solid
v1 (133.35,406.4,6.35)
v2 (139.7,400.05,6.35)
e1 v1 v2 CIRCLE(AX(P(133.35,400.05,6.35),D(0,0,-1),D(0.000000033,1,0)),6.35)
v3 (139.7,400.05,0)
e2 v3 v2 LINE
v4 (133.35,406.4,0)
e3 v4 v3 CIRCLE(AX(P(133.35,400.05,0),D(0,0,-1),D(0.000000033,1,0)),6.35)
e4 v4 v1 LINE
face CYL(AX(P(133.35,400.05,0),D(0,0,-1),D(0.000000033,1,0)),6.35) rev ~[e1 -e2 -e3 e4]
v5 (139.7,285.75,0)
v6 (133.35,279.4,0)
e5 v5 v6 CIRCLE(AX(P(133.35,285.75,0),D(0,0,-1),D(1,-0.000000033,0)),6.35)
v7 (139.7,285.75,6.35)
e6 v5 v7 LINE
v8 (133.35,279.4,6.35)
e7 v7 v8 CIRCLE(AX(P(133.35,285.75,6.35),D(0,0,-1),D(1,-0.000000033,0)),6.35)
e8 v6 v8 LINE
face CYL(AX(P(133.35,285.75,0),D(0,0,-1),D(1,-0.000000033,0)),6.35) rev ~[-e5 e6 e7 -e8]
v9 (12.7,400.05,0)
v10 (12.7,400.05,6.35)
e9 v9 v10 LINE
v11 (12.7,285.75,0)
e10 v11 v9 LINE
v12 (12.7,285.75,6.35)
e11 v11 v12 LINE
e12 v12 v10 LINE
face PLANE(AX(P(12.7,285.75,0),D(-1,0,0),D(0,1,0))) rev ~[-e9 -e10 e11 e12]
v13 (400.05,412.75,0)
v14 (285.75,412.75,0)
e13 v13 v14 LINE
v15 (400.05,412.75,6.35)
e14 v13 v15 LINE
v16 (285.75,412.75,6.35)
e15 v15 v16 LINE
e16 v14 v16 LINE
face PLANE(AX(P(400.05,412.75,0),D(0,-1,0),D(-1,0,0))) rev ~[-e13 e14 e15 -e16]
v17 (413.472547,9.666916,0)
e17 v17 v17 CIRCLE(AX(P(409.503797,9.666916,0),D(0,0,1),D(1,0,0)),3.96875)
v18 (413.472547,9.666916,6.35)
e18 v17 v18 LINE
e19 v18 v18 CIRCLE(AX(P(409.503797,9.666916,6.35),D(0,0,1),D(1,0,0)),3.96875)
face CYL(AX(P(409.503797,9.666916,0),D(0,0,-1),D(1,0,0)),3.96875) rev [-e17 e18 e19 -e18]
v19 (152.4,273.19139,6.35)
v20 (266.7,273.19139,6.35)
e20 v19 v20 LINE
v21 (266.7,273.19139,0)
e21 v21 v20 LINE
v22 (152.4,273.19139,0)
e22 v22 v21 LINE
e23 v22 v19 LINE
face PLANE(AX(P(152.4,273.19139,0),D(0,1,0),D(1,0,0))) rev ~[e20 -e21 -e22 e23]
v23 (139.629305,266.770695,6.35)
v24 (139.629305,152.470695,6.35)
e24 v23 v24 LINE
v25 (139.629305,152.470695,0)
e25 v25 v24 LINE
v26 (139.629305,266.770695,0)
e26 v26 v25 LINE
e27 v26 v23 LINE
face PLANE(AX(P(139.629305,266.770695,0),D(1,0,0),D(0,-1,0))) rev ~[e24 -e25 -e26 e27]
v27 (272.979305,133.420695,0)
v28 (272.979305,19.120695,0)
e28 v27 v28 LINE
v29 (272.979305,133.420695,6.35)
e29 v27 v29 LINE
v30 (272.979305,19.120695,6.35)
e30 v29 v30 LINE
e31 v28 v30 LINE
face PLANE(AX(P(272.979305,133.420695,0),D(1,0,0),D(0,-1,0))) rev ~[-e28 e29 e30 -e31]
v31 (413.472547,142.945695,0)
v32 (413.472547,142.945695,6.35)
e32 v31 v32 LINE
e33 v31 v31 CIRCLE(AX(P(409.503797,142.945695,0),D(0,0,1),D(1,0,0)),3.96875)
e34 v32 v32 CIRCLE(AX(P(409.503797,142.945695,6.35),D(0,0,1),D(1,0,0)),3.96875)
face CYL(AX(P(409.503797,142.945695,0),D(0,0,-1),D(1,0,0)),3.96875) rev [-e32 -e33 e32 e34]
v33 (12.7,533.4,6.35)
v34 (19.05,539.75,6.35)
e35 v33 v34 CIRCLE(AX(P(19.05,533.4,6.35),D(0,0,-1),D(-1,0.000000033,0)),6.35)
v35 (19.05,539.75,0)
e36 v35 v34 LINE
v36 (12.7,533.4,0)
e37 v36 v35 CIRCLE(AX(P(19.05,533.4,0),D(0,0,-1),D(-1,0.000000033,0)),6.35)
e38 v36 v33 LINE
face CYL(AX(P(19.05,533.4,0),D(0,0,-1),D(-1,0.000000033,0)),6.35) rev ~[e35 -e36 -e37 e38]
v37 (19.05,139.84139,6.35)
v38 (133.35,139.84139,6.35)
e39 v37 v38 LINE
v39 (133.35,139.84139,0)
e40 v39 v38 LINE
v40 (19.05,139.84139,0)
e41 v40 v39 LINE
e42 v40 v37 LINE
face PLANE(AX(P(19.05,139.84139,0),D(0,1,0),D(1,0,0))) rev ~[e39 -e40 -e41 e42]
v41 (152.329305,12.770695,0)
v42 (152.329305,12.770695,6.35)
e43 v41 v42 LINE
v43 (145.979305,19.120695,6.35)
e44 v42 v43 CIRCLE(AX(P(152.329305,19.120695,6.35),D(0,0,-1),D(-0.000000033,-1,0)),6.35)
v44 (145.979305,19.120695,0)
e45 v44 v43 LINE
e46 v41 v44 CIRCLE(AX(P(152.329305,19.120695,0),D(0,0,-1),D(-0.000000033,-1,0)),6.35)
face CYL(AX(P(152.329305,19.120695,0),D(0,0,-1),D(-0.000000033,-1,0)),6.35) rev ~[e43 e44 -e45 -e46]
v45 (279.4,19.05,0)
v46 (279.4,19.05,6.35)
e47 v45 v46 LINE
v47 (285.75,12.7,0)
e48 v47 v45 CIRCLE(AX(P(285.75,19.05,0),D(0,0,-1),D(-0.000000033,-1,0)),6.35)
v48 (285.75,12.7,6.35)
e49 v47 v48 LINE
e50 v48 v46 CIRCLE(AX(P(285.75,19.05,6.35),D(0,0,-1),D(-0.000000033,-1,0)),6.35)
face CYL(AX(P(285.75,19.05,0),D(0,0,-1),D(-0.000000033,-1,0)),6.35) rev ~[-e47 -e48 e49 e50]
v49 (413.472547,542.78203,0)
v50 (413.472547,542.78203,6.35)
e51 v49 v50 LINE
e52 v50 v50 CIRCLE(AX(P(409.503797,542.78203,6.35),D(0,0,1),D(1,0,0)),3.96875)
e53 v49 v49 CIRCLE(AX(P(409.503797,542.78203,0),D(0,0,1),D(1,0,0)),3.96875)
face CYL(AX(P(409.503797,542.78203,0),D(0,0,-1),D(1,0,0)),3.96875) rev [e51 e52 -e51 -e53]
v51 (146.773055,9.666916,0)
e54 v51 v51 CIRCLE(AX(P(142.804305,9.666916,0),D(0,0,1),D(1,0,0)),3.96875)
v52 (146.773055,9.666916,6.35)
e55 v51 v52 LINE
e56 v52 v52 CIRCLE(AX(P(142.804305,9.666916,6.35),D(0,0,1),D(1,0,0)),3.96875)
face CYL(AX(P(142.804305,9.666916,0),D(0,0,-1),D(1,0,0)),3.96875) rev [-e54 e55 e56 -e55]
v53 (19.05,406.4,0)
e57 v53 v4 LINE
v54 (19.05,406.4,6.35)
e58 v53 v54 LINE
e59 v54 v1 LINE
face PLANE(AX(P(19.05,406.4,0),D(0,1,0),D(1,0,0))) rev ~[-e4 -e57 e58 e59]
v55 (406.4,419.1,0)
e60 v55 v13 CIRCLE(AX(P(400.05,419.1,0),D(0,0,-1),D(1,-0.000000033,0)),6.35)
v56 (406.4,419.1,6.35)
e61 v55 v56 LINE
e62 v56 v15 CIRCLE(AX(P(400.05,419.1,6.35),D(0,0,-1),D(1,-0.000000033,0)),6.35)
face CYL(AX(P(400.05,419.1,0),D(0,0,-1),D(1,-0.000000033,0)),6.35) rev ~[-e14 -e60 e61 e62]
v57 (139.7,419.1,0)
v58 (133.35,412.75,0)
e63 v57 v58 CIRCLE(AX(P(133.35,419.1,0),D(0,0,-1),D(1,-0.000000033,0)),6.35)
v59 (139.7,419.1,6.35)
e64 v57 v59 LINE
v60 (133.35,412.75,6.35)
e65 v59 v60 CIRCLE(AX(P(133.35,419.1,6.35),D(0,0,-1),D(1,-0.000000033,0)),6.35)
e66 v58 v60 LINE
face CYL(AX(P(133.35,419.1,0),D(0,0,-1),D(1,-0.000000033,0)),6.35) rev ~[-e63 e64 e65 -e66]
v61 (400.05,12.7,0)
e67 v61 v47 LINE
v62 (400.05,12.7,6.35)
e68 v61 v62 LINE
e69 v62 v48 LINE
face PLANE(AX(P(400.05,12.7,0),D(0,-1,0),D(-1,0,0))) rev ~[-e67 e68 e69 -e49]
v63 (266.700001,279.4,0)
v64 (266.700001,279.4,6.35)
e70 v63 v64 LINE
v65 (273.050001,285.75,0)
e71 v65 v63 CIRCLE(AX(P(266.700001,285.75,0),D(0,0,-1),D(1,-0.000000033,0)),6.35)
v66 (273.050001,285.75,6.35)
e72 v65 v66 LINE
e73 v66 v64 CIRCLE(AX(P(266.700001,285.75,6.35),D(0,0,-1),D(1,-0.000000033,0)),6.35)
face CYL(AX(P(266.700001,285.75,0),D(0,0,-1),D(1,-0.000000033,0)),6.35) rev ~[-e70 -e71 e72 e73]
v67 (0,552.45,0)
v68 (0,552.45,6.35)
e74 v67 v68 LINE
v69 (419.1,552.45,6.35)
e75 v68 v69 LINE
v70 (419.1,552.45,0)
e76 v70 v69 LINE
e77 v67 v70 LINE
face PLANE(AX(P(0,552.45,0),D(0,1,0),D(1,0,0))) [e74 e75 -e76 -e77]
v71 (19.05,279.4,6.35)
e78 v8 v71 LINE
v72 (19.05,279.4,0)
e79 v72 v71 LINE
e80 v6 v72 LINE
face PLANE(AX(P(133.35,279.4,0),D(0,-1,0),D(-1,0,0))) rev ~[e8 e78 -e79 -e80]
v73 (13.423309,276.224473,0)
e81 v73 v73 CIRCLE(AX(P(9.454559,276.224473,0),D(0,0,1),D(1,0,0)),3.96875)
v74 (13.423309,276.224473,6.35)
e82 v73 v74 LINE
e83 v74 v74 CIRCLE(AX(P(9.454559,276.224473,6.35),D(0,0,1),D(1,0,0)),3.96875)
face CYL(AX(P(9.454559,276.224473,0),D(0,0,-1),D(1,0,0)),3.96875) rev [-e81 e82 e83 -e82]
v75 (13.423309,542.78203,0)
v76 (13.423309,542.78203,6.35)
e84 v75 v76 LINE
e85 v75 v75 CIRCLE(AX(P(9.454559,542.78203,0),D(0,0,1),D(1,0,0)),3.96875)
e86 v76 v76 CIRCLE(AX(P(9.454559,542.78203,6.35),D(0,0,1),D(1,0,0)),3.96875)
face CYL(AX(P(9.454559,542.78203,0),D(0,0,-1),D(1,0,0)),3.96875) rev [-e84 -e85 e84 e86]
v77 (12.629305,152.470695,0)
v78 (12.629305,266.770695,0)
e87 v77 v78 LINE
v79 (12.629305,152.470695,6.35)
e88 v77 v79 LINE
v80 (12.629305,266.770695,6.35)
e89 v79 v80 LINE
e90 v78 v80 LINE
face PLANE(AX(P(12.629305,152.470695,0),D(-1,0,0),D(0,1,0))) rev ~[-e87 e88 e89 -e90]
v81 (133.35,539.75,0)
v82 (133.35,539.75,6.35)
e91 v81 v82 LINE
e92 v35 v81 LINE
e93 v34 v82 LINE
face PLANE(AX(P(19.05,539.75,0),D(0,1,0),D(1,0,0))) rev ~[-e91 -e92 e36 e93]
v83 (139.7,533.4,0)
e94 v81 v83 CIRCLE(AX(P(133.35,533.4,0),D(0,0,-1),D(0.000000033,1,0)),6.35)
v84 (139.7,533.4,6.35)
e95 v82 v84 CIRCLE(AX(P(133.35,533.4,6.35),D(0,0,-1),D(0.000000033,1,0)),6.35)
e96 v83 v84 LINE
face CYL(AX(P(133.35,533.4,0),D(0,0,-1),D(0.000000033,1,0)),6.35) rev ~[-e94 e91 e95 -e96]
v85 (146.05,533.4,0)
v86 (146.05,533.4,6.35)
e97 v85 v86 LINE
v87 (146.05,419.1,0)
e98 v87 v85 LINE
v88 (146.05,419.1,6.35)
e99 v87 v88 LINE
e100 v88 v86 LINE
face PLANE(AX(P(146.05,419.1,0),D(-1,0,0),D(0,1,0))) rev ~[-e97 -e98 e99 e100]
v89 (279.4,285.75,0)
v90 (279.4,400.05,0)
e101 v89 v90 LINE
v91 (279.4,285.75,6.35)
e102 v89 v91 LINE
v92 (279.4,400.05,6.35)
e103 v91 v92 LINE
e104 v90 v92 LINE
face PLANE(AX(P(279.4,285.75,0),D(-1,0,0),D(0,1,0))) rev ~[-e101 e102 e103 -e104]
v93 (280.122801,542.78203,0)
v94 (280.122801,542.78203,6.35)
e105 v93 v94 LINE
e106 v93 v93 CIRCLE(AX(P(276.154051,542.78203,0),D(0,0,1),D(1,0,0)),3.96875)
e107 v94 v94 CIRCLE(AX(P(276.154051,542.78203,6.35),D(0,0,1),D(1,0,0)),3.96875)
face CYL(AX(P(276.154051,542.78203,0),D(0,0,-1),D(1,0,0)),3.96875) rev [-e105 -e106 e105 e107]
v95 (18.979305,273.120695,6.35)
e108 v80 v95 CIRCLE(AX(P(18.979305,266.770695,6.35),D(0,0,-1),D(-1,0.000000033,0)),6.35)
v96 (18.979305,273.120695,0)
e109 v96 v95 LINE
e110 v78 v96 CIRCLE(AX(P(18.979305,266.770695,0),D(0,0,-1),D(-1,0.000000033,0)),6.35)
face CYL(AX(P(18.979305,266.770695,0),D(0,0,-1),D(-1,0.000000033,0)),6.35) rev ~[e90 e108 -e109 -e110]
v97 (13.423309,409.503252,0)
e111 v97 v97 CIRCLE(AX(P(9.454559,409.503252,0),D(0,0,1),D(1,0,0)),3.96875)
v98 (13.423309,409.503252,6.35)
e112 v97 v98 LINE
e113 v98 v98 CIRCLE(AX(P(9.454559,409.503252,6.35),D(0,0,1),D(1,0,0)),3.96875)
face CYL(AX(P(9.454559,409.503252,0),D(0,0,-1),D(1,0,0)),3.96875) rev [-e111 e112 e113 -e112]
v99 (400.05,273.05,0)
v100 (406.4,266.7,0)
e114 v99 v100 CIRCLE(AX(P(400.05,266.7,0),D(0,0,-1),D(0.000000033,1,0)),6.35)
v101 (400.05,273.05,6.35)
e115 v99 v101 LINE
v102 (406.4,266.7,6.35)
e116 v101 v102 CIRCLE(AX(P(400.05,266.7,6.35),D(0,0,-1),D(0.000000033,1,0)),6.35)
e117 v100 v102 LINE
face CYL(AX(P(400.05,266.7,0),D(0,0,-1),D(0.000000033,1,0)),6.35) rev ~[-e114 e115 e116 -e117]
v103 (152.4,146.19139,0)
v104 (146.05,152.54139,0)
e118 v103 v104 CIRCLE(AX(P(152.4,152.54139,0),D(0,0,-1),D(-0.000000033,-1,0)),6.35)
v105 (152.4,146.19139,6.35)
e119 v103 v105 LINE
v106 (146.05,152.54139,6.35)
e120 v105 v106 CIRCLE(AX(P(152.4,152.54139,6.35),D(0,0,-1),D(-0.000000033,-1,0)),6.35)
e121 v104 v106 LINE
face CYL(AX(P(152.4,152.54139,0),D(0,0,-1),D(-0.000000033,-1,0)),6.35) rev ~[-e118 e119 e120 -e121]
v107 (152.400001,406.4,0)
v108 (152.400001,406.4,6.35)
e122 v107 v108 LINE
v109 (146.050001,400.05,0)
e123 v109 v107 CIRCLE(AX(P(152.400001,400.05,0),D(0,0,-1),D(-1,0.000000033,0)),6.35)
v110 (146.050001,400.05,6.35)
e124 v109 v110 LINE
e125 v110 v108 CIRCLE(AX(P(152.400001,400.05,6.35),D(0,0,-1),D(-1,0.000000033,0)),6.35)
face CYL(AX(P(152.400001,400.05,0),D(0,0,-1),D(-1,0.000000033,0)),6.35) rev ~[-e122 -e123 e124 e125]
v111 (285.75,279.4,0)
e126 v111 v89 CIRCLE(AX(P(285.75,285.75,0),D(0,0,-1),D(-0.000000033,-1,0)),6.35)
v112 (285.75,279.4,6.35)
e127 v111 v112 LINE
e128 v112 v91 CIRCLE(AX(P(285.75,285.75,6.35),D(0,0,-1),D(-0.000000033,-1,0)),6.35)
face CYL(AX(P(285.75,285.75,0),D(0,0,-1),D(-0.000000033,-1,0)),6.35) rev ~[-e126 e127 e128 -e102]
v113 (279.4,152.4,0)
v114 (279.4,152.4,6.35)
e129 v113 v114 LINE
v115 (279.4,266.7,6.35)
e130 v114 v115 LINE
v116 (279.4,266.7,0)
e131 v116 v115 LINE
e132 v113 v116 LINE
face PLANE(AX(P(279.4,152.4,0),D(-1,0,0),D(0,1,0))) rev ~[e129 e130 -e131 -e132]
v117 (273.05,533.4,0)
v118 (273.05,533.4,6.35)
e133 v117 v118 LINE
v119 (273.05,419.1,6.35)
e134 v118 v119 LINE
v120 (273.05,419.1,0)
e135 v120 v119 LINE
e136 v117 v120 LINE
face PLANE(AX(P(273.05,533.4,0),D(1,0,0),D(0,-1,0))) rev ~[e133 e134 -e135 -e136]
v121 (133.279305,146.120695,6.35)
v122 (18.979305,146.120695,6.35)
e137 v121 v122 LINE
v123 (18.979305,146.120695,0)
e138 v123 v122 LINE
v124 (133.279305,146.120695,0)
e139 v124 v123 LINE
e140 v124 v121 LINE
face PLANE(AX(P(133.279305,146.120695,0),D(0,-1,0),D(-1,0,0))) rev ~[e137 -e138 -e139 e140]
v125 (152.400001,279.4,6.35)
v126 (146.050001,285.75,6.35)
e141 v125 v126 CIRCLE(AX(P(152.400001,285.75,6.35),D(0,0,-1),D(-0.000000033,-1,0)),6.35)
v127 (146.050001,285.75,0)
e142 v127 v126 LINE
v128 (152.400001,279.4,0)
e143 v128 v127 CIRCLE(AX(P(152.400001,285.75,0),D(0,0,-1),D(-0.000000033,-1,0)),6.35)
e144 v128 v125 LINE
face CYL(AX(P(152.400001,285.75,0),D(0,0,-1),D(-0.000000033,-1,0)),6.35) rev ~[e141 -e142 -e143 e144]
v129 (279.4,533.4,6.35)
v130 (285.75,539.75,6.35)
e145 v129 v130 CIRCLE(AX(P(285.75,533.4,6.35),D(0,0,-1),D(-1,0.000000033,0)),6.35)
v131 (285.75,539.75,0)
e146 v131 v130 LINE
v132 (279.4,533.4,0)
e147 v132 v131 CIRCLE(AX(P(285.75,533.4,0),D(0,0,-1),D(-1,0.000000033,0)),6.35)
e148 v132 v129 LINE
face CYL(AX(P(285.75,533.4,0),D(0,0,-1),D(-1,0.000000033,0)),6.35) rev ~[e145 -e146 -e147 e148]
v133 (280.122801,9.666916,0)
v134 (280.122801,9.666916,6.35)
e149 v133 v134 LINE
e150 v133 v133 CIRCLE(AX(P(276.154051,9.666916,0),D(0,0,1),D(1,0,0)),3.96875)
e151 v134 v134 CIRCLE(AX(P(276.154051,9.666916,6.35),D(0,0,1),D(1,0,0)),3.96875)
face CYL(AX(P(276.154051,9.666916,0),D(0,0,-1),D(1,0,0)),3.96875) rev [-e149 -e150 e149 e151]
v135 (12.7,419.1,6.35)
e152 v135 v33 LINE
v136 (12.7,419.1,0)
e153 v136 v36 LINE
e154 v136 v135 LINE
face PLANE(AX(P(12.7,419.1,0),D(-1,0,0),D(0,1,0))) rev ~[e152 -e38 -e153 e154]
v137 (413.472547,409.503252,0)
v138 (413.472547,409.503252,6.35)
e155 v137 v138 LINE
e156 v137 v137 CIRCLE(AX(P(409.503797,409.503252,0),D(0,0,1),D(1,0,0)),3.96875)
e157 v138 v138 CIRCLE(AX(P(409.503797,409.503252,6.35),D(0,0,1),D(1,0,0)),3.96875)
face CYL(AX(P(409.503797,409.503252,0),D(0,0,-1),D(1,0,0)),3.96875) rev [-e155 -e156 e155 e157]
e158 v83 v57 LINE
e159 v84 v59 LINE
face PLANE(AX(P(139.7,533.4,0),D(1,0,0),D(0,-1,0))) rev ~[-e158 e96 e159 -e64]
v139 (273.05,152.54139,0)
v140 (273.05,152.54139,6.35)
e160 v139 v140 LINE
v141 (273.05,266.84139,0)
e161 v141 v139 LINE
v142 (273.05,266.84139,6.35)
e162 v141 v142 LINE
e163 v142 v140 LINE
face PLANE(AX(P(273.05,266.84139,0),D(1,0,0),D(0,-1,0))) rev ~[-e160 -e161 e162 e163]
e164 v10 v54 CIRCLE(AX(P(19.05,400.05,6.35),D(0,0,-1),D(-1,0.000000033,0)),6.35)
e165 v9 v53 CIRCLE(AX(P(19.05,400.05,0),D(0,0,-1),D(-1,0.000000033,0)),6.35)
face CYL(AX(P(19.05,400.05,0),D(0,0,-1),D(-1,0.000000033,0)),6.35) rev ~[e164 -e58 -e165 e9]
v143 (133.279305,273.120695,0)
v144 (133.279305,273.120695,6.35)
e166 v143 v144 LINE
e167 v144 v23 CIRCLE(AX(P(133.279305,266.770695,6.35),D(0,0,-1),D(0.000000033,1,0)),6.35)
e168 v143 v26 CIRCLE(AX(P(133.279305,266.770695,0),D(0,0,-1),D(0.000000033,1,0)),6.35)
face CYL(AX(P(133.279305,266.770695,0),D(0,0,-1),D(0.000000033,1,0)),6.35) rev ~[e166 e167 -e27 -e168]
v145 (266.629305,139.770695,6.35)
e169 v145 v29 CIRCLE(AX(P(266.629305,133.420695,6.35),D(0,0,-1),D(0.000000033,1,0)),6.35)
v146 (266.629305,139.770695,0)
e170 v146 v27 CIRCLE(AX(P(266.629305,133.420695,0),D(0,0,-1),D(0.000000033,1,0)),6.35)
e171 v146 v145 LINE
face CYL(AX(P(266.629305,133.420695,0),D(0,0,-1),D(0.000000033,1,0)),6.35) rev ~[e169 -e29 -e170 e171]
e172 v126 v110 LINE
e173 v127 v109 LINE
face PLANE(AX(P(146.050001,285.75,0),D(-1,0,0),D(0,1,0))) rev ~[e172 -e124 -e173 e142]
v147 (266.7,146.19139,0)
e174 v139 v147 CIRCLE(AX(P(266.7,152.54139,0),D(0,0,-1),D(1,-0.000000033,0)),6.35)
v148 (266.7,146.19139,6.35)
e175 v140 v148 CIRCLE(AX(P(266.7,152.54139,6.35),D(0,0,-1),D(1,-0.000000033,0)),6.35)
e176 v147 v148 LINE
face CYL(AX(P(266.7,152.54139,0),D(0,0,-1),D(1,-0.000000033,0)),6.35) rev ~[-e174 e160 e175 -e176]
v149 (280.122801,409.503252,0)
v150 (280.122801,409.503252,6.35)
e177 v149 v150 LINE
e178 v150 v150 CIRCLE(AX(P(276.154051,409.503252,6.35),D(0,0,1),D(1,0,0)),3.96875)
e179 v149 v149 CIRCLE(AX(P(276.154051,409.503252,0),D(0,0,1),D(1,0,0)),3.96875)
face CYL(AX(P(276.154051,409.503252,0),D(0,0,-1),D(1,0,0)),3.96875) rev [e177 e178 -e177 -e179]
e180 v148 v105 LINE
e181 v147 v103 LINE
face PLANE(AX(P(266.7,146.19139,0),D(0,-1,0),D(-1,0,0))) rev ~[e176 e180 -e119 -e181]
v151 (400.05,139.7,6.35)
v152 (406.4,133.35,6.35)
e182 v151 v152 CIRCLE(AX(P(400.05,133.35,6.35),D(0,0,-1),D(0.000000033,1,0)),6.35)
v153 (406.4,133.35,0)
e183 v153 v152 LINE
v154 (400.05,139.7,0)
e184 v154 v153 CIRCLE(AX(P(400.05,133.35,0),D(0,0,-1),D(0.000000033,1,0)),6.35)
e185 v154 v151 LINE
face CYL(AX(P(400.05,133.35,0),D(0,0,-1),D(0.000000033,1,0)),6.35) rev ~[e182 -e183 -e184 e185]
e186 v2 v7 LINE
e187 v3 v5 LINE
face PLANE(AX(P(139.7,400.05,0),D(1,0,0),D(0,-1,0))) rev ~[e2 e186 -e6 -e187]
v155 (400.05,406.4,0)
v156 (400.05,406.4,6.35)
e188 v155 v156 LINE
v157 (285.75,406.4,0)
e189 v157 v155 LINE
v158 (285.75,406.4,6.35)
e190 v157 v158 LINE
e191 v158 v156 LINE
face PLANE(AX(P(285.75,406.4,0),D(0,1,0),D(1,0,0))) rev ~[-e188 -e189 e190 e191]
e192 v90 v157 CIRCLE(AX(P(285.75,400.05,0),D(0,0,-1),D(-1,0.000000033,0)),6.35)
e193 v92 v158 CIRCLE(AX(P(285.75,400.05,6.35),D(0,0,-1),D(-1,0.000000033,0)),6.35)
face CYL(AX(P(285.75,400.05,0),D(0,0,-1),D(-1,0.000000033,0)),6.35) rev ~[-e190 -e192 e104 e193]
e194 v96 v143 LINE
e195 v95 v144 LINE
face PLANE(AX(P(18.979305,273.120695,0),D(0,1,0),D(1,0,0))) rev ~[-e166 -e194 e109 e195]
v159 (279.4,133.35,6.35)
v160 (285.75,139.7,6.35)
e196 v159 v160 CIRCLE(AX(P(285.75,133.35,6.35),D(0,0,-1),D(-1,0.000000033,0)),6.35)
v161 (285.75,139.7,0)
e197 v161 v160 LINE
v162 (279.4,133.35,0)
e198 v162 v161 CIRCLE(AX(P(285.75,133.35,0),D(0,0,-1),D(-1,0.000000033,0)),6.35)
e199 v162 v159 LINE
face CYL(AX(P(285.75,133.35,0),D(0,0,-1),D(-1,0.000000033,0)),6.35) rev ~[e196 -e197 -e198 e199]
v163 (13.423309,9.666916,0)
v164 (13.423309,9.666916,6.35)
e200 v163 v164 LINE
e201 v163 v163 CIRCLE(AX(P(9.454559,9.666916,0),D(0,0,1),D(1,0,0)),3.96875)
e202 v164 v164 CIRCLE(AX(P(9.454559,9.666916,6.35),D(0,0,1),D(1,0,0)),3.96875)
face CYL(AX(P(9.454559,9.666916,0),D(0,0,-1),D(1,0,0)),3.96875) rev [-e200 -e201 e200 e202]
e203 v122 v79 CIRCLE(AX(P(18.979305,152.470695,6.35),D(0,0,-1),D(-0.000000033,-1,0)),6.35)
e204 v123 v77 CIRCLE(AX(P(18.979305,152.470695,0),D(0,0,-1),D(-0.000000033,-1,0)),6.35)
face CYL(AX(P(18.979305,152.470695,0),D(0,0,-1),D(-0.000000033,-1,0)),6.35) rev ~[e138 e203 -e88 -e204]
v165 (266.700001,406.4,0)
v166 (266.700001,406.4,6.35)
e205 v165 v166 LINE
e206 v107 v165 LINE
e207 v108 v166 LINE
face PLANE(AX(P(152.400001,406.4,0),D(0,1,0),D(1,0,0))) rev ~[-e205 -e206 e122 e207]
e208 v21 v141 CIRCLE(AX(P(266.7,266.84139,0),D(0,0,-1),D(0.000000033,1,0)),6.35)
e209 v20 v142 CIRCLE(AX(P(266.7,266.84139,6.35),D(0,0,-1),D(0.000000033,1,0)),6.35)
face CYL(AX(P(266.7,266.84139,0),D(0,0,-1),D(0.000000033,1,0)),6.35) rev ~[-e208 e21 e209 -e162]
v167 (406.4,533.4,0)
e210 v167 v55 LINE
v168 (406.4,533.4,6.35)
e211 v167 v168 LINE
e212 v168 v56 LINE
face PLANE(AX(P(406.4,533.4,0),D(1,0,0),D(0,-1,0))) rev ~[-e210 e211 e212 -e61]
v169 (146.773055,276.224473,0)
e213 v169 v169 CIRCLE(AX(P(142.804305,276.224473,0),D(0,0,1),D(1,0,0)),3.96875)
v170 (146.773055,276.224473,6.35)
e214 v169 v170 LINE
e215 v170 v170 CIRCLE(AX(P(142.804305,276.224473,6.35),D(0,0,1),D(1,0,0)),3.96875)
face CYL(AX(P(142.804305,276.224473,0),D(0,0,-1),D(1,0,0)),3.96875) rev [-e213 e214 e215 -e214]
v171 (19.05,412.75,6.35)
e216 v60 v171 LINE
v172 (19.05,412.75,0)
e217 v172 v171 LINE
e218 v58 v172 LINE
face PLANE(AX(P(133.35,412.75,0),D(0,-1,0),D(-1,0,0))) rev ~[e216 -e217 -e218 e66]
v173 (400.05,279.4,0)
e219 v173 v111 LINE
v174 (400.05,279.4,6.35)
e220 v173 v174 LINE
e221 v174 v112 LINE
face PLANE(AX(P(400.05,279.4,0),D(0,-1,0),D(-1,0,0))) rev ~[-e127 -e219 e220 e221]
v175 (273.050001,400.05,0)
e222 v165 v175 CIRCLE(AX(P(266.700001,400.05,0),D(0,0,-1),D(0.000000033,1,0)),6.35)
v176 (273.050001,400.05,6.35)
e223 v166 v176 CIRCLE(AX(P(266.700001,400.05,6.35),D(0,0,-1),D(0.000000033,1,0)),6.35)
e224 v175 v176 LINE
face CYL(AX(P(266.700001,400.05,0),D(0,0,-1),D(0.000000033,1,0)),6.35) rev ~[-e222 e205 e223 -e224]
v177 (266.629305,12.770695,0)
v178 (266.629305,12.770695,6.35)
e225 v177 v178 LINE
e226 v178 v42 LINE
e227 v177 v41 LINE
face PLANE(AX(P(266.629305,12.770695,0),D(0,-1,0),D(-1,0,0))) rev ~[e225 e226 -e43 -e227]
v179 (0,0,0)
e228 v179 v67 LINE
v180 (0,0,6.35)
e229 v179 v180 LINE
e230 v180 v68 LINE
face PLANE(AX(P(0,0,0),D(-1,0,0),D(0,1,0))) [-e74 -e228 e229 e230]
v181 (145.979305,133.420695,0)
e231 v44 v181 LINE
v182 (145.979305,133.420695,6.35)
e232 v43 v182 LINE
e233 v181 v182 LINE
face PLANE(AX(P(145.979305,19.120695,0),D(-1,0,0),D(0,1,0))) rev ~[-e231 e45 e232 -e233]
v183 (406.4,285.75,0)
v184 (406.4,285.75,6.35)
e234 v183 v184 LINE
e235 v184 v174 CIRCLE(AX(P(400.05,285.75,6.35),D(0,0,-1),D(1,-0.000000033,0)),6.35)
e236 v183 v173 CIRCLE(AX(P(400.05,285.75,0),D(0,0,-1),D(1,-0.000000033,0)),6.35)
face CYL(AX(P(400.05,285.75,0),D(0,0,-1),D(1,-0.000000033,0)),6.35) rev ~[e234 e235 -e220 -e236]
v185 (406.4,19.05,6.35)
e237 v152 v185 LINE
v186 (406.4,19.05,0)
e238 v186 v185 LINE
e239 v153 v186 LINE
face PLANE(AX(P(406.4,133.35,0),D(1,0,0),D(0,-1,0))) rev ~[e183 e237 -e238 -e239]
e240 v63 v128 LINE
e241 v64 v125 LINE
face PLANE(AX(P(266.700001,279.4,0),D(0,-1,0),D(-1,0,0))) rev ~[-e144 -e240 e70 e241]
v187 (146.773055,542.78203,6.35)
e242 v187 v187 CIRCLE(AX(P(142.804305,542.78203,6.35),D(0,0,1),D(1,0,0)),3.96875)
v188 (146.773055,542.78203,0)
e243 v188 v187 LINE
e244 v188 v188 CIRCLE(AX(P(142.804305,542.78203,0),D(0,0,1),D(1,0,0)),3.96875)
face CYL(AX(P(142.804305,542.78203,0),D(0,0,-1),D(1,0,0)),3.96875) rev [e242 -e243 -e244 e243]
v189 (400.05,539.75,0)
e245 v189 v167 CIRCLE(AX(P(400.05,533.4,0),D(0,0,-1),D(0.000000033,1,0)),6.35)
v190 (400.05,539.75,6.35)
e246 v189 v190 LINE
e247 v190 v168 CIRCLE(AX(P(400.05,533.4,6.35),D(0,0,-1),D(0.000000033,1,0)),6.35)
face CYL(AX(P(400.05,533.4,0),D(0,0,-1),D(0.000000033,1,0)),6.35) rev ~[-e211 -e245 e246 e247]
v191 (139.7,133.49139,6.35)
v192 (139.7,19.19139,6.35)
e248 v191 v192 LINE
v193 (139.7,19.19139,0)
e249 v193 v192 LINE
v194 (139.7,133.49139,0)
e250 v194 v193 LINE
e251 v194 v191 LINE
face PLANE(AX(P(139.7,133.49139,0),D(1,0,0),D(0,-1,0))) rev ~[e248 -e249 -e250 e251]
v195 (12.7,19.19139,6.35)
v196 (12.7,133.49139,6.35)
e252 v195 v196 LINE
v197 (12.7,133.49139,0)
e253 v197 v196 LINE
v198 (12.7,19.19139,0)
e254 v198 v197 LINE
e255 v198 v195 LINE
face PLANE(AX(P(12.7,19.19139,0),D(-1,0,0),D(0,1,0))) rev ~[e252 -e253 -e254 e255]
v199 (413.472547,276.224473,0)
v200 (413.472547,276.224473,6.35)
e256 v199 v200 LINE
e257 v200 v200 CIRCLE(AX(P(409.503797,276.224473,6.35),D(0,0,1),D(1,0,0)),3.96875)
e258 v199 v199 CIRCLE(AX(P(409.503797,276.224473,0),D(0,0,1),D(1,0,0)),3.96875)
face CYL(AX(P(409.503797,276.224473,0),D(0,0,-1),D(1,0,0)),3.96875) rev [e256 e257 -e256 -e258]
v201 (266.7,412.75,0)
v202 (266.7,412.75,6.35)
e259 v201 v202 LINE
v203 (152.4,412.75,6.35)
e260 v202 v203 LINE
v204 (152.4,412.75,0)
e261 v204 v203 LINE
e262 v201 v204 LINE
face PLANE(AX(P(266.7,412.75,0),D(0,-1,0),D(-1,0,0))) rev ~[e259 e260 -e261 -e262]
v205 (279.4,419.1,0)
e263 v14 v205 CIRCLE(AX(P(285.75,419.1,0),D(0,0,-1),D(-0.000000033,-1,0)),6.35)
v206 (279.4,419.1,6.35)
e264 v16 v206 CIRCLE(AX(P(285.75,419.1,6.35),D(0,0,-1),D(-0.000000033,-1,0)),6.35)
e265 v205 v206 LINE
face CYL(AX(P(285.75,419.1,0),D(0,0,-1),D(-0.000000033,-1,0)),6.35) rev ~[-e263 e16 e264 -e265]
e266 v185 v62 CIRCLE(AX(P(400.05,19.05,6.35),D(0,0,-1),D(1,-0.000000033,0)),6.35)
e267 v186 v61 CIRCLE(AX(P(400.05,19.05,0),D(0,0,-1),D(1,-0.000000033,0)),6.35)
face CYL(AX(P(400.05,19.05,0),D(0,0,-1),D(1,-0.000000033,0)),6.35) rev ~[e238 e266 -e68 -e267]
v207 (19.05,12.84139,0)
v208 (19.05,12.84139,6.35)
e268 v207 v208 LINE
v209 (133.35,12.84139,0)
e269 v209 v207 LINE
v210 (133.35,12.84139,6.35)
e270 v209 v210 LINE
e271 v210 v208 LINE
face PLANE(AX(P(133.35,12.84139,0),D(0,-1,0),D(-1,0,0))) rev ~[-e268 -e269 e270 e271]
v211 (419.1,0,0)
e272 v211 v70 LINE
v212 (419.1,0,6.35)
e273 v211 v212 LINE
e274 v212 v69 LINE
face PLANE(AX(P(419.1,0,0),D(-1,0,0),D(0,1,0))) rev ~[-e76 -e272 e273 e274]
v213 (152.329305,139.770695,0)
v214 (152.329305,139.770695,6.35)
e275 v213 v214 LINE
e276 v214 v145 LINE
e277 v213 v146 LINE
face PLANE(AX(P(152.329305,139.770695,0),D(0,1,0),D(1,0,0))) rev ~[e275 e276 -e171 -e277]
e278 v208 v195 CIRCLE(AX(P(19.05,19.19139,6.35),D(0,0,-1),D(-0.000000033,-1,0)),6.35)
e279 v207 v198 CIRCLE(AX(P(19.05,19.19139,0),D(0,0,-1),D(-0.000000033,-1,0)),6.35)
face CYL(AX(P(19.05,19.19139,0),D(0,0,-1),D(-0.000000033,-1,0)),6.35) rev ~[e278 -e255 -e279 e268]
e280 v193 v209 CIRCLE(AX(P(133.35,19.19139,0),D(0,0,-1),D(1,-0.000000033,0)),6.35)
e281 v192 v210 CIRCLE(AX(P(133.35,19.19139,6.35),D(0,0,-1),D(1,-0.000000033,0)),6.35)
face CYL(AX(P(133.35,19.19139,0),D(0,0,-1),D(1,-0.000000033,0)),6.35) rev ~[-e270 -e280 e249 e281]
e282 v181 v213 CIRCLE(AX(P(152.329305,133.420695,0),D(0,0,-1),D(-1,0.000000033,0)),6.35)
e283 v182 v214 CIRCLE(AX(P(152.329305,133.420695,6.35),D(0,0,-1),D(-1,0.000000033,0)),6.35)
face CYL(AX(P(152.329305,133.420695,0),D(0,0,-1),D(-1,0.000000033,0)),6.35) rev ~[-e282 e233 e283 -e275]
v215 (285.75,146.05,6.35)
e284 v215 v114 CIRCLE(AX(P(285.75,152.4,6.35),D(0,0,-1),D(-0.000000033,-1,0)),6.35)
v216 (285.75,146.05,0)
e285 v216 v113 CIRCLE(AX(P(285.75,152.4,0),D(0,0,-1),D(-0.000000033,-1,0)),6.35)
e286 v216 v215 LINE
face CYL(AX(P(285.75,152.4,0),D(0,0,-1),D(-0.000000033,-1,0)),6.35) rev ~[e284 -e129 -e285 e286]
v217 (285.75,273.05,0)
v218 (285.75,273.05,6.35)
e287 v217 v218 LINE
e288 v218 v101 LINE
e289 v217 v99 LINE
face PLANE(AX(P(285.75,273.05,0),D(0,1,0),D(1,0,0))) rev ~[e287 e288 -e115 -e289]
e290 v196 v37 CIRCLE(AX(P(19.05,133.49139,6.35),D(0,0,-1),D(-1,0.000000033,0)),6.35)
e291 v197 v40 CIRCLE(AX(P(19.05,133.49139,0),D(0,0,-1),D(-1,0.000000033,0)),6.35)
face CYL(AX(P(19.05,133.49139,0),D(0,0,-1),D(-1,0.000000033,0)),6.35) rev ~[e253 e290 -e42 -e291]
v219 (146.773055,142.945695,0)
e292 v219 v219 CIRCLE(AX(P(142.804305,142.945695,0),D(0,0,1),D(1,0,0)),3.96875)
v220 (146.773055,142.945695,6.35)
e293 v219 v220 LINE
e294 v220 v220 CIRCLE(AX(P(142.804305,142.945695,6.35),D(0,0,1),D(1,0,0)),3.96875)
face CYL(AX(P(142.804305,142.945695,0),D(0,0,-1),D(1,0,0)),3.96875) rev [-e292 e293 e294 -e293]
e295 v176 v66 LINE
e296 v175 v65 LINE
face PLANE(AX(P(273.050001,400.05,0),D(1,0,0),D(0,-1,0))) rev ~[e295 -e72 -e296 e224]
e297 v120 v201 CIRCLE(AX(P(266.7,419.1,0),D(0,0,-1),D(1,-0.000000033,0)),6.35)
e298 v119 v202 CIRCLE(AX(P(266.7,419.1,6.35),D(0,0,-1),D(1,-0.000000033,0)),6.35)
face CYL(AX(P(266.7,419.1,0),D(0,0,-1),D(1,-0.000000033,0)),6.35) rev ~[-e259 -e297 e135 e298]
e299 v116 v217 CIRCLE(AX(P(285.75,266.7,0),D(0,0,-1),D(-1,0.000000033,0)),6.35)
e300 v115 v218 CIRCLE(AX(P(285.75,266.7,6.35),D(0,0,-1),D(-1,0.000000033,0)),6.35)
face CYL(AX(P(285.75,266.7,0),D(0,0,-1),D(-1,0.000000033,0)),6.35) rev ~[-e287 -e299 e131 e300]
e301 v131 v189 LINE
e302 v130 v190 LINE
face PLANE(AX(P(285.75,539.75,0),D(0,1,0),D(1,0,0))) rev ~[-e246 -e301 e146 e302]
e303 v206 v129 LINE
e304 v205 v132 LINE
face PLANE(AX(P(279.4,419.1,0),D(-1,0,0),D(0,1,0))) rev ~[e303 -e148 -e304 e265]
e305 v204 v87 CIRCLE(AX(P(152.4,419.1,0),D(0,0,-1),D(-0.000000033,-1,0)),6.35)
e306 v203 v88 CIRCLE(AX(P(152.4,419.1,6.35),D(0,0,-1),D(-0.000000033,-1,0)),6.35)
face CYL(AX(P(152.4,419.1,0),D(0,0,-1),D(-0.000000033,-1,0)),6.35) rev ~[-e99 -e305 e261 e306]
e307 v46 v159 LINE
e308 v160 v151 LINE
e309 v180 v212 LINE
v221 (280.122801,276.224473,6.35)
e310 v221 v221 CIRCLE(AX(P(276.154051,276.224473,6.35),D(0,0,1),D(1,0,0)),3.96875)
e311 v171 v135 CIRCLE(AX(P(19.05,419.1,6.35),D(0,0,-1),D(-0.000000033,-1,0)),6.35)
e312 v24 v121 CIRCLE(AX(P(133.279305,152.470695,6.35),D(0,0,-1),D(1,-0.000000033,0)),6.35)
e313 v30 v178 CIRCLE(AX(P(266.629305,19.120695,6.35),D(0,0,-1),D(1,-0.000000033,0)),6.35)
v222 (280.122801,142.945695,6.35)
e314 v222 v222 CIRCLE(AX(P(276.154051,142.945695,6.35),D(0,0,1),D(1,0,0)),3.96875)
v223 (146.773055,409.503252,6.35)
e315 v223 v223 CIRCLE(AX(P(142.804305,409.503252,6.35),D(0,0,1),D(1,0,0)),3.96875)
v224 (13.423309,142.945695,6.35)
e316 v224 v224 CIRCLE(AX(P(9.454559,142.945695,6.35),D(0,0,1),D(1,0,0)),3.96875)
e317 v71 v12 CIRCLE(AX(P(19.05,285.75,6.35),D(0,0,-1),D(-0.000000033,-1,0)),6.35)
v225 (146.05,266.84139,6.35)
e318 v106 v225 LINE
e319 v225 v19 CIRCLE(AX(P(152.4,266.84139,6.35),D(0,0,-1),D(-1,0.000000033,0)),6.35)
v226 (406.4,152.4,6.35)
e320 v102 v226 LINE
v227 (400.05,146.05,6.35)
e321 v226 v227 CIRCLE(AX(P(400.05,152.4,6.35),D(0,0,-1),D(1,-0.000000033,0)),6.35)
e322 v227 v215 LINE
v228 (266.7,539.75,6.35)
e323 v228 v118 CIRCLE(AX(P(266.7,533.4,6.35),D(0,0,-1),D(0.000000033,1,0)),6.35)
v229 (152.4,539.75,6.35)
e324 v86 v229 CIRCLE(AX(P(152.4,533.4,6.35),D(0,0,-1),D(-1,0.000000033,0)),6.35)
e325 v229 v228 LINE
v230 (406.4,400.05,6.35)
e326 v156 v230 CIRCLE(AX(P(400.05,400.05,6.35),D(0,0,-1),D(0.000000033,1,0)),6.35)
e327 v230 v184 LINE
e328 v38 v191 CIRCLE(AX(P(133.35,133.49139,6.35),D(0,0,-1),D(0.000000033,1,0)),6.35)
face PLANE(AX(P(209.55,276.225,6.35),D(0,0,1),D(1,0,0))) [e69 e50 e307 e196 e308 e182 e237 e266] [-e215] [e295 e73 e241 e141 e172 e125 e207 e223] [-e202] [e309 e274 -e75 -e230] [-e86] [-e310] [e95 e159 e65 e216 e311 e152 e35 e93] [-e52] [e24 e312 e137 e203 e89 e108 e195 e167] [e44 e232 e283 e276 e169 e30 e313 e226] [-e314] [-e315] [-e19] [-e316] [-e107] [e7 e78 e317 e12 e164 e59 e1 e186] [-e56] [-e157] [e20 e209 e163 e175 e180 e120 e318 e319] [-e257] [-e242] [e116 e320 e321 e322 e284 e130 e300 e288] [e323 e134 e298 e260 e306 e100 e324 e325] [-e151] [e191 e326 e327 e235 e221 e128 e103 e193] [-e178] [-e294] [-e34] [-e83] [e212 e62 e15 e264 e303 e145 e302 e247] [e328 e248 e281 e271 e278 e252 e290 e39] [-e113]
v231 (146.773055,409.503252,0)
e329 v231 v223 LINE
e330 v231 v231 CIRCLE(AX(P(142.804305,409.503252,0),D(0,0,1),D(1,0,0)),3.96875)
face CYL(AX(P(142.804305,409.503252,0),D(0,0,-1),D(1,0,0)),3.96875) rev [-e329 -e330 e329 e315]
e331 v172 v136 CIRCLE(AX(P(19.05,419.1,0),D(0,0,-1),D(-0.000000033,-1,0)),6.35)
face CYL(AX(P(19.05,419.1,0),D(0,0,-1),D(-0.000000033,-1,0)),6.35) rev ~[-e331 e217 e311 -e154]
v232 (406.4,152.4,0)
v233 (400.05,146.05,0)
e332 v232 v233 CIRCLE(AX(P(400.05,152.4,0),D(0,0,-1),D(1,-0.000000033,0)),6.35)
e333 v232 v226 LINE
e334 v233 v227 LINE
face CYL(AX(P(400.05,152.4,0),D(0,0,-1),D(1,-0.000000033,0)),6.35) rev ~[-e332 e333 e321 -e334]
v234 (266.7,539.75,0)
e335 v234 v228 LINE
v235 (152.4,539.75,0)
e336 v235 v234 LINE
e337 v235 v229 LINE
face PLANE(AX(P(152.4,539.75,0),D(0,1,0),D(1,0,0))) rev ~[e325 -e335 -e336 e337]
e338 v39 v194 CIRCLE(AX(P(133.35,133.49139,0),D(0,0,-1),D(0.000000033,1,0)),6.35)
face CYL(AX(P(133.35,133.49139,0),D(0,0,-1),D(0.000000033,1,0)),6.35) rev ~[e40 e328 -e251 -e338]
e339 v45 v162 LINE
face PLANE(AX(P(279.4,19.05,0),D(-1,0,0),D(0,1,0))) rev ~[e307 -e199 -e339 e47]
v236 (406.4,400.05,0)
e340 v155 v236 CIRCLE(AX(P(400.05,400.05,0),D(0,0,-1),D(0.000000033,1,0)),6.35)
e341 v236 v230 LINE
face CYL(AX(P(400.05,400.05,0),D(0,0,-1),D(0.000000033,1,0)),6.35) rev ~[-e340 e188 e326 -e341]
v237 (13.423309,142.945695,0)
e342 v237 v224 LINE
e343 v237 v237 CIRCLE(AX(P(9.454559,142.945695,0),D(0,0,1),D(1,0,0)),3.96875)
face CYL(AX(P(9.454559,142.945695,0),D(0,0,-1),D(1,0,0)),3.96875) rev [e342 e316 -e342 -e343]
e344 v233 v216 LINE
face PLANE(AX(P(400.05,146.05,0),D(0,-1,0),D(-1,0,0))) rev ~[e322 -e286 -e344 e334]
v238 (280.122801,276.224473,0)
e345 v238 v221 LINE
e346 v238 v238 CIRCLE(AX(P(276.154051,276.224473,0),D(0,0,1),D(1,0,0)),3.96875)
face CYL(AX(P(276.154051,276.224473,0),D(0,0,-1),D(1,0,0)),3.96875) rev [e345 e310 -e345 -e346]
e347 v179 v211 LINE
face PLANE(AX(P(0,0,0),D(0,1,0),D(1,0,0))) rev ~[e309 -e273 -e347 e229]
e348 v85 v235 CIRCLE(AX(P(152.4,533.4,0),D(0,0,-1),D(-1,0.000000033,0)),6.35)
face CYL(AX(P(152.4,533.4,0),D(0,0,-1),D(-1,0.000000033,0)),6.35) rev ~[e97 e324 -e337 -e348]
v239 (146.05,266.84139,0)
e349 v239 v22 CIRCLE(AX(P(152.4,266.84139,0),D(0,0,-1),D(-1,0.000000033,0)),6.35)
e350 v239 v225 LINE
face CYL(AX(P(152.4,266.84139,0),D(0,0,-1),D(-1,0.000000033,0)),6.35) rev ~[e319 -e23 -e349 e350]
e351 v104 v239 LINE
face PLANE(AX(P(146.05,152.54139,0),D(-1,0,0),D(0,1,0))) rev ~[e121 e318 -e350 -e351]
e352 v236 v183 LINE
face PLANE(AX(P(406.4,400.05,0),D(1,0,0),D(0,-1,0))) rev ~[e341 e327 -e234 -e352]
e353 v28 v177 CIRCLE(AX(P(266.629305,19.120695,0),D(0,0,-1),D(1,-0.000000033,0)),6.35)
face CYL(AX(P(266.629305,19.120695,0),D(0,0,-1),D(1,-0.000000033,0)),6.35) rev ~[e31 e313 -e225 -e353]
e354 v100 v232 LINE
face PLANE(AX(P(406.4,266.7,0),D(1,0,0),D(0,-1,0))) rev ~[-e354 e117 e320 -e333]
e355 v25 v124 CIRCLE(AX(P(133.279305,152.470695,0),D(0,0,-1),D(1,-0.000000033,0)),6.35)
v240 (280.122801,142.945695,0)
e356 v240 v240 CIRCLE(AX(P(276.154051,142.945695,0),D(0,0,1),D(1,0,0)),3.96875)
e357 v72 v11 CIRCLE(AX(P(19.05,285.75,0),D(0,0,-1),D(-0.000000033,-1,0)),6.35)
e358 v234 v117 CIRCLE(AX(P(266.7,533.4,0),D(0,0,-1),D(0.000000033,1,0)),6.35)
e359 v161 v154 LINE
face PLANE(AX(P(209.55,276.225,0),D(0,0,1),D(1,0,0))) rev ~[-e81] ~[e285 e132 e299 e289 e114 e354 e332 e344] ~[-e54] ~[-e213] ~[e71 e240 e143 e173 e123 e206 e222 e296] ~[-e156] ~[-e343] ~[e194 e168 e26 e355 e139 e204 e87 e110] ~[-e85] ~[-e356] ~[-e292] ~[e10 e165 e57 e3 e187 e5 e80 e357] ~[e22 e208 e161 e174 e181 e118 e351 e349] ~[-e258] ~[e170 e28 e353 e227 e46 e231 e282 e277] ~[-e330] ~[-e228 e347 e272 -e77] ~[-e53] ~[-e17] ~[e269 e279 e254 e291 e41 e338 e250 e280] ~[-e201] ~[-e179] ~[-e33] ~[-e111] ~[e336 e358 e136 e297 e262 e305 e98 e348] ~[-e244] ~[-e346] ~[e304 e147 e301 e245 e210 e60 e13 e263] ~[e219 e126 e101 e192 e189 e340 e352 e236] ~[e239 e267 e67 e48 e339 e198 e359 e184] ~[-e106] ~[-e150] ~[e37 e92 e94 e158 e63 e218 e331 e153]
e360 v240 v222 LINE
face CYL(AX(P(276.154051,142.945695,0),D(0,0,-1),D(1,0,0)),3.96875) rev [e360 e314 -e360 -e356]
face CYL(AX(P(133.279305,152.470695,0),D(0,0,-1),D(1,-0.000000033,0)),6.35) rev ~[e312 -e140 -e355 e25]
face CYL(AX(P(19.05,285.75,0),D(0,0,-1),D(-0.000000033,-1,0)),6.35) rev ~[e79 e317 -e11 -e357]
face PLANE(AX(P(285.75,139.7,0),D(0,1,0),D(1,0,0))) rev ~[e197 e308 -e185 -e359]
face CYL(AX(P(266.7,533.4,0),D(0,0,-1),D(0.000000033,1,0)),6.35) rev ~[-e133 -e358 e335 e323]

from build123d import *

# Parameters (mm, degrees)
F0_W     = 419.1
F0_H     = 552.45
F0_R     = 3.96875
F1_DEPTH = 6.35


with BuildPart() as f1:
    # F0 (on Top) → F1 (new body)
    with BuildSketch(Plane.XY):
        with Locations((209.55, 276.225)):
            Rectangle(F0_W, F0_H)
        with Locations((9.454559, 9.666916)):
            Circle(F0_R, mode=Mode.SUBTRACT)
        with BuildLine():
            Line((133.35, 12.84139), (19.05, 12.84139))
            ThreePointArc((19.05, 12.84139), (14.559872, 14.701262), (12.7, 19.19139))
            Line((12.7, 19.19139), (12.7, 133.49139))
            ThreePointArc((12.7, 133.49139), (14.559872, 137.981518), (19.05, 139.84139))
            Line((19.05, 139.84139), (133.35, 139.84139))
            ThreePointArc((133.35, 139.84139), (137.840128, 137.981518), (139.7, 133.49139))
            Line((139.7, 133.49139), (139.7, 19.19139))
            ThreePointArc((139.7, 19.19139), (137.840128, 14.701262), (133.35, 12.84139))
        make_face(mode=Mode.SUBTRACT)
        with Locations((142.804305, 9.666916)):
            Circle(F0_R, mode=Mode.SUBTRACT)
        with BuildLine():
            Line((272.979305, 133.420695), (272.979305, 19.120695))
            ThreePointArc((272.979305, 19.120695), (271.119433, 14.630567), (266.629305, 12.770695))
            Line((266.629305, 12.770695), (152.329305, 12.770695))
            ThreePointArc((152.329305, 12.770695), (147.839177, 14.630567), (145.979305, 19.120695))
            Line((145.979305, 19.120695), (145.979305, 133.420695))
            ThreePointArc((145.979305, 133.420695), (147.839177, 137.910823), (152.329305, 139.770695))
            Line((152.329305, 139.770695), (266.629305, 139.770695))
            ThreePointArc((266.629305, 139.770695), (271.119433, 137.910823), (272.979305, 133.420695))
        make_face(mode=Mode.SUBTRACT)
        with Locations((9.454559, 142.945695)):
            Circle(F0_R, mode=Mode.SUBTRACT)
        with Locations((9.454559, 276.224473)):
            Circle(F0_R, mode=Mode.SUBTRACT)
        with BuildLine():
            Line((139.629305, 266.770695), (139.629305, 152.470695))
            ThreePointArc((139.629305, 152.470695), (137.769433, 147.980567), (133.279305, 146.120695))
            Line((133.279305, 146.120695), (18.979305, 146.120695))
            ThreePointArc((18.979305, 146.120695), (14.489177, 147.980567), (12.629305, 152.470695))
            Line((12.629305, 152.470695), (12.629305, 266.770695))
            ThreePointArc((12.629305, 266.770695), (14.489177, 271.260823), (18.979305, 273.120695))
            Line((18.979305, 273.120695), (133.279305, 273.120695))
            ThreePointArc((133.279305, 273.120695), (137.769433, 271.260823), (139.629305, 266.770695))
        make_face(mode=Mode.SUBTRACT)
        with Locations((142.804305, 142.945695)):
            Circle(F0_R, mode=Mode.SUBTRACT)
        with Locations((142.804305, 276.224473)):
            Circle(F0_R, mode=Mode.SUBTRACT)
        with Locations((276.154051, 9.666916)):
            Circle(F0_R, mode=Mode.SUBTRACT)
        with Locations((409.503797, 9.666916)):
            Circle(F0_R, mode=Mode.SUBTRACT)
        with BuildLine():
            Line((406.4, 133.35), (406.4, 19.05))
            ThreePointArc((406.4, 19.05), (404.540128, 14.559872), (400.05, 12.7))
            Line((400.05, 12.7), (285.75, 12.7))
            ThreePointArc((285.75, 12.7), (281.259872, 14.559872), (279.4, 19.05))
            Line((279.4, 19.05), (279.4, 133.35))
            ThreePointArc((279.4, 133.35), (281.259872, 137.840128), (285.75, 139.7))
            Line((285.75, 139.7), (400.05, 139.7))
            ThreePointArc((400.05, 139.7), (404.540128, 137.840128), (406.4, 133.35))
        make_face(mode=Mode.SUBTRACT)
        with Locations((276.154051, 142.945695)):
            Circle(F0_R, mode=Mode.SUBTRACT)
        with BuildLine():
            Line((273.05, 266.84139), (273.05, 152.54139))
            ThreePointArc((273.05, 152.54139), (271.190128, 148.051262), (266.7, 146.19139))
            Line((266.7, 146.19139), (152.4, 146.19139))
            ThreePointArc((152.4, 146.19139), (147.909872, 148.051262), (146.05, 152.54139))
            Line((146.05, 152.54139), (146.05, 266.84139))
            ThreePointArc((146.05, 266.84139), (147.909872, 271.331518), (152.4, 273.19139))
            Line((152.4, 273.19139), (266.7, 273.19139))
            ThreePointArc((266.7, 273.19139), (271.190128, 271.331518), (273.05, 266.84139))
        make_face(mode=Mode.SUBTRACT)
        with Locations((276.154051, 276.224473)):
            Circle(F0_R, mode=Mode.SUBTRACT)
        with Locations((409.503797, 142.945695)):
            Circle(F0_R, mode=Mode.SUBTRACT)
        with BuildLine():
            Line((406.4, 266.7), (406.4, 152.4))
            ThreePointArc((406.4, 152.4), (404.540128, 147.909872), (400.05, 146.05))
            Line((400.05, 146.05), (285.75, 146.05))
            ThreePointArc((285.75, 146.05), (281.259872, 147.909872), (279.4, 152.4))
            Line((279.4, 152.4), (279.4, 266.7))
            ThreePointArc((279.4, 266.7), (281.259872, 271.190128), (285.75, 273.05))
            Line((285.75, 273.05), (400.05, 273.05))
            ThreePointArc((400.05, 273.05), (404.540128, 271.190128), (406.4, 266.7))
        make_face(mode=Mode.SUBTRACT)
        with Locations((409.503797, 276.224473)):
            Circle(F0_R, mode=Mode.SUBTRACT)
        with BuildLine():
            Line((139.7, 400.05), (139.7, 285.75))
            ThreePointArc((139.7, 285.75), (137.840128, 281.259872), (133.35, 279.4))
            Line((133.35, 279.4), (19.05, 279.4))
            ThreePointArc((19.05, 279.4), (14.559872, 281.259872), (12.7, 285.75))
            Line((12.7, 285.75), (12.7, 400.05))
            ThreePointArc((12.7, 400.05), (14.559872, 404.540128), (19.05, 406.4))
            Line((19.05, 406.4), (133.35, 406.4))
            ThreePointArc((133.35, 406.4), (137.840128, 404.540128), (139.7, 400.05))
        make_face(mode=Mode.SUBTRACT)
        with Locations((9.454559, 409.503252)):
            Circle(F0_R, mode=Mode.SUBTRACT)
        with Locations((142.804305, 409.503252)):
            Circle(F0_R, mode=Mode.SUBTRACT)
        with BuildLine():
            Line((139.7, 533.4), (139.7, 419.1))
            ThreePointArc((139.7, 419.1), (137.840128, 414.609872), (133.35, 412.75))
            Line((133.35, 412.75), (19.05, 412.75))
            ThreePointArc((19.05, 412.75), (14.559872, 414.609872), (12.7, 419.1))
            Line((12.7, 419.1), (12.7, 533.4))
            ThreePointArc((12.7, 533.4), (14.559872, 537.890128), (19.05, 539.75))
            Line((19.05, 539.75), (133.35, 539.75))
            ThreePointArc((133.35, 539.75), (137.840128, 537.890128), (139.7, 533.4))
        make_face(mode=Mode.SUBTRACT)
        with Locations((9.454559, 542.78203)):
            Circle(F0_R, mode=Mode.SUBTRACT)
        with Locations((142.804305, 542.78203)):
            Circle(F0_R, mode=Mode.SUBTRACT)
        with BuildLine():
            Line((273.050001, 400.05), (273.050001, 285.75))
            ThreePointArc((273.050001, 285.75), (271.190129, 281.259872), (266.700001, 279.4))
            Line((266.700001, 279.4), (152.400001, 279.4))
            ThreePointArc((152.400001, 279.4), (147.909873, 281.259872), (146.050001, 285.75))
            Line((146.050001, 285.75), (146.050001, 400.05))
            ThreePointArc((146.050001, 400.05), (147.909873, 404.540128), (152.400001, 406.4))
            Line((152.400001, 406.4), (266.700001, 406.4))
            ThreePointArc((266.700001, 406.4), (271.190129, 404.540128), (273.050001, 400.05))
        make_face(mode=Mode.SUBTRACT)
        with Locations((276.154051, 409.503252)):
            Circle(F0_R, mode=Mode.SUBTRACT)
        with BuildLine():
            Line((406.4, 400.05), (406.4, 285.75))
            ThreePointArc((406.4, 285.75), (404.540128, 281.259872), (400.05, 279.4))
            Line((400.05, 279.4), (285.75, 279.4))
            ThreePointArc((285.75, 279.4), (281.259872, 281.259872), (279.4, 285.75))
            Line((279.4, 285.75), (279.4, 400.05))
            ThreePointArc((279.4, 400.05), (281.259872, 404.540128), (285.75, 406.4))
            Line((285.75, 406.4), (400.05, 406.4))
            ThreePointArc((400.05, 406.4), (404.540128, 404.540128), (406.4, 400.05))
        make_face(mode=Mode.SUBTRACT)
        with Locations((409.503797, 409.503252)):
            Circle(F0_R, mode=Mode.SUBTRACT)
        with BuildLine():
            Line((273.05, 533.4), (273.05, 419.1))
            ThreePointArc((273.05, 419.1), (271.190128, 414.609872), (266.7, 412.75))
            Line((266.7, 412.75), (152.4, 412.75))
            ThreePointArc((152.4, 412.75), (147.909872, 414.609872), (146.05, 419.1))
            Line((146.05, 419.1), (146.05, 533.4))
            ThreePointArc((146.05, 533.4), (147.909872, 537.890128), (152.4, 539.75))
            Line((152.4, 539.75), (266.7, 539.75))
            ThreePointArc((266.7, 539.75), (271.190128, 537.890128), (273.05, 533.4))
        make_face(mode=Mode.SUBTRACT)
        with Locations((276.154051, 542.78203)):
            Circle(F0_R, mode=Mode.SUBTRACT)
        with BuildLine():
            Line((406.4, 533.4), (406.4, 419.1))
            ThreePointArc((406.4, 419.1), (404.540128, 414.609872), (400.05, 412.75))
            Line((400.05, 412.75), (285.75, 412.75))
            ThreePointArc((285.75, 412.75), (281.259872, 414.609872), (279.4, 419.1))
            Line((279.4, 419.1), (279.4, 533.4))
            ThreePointArc((279.4, 533.4), (281.259872, 537.890128), (285.75, 539.75))
            Line((285.75, 539.75), (400.05, 539.75))
            ThreePointArc((400.05, 539.75), (404.540128, 537.890128), (406.4, 533.4))
        make_face(mode=Mode.SUBTRACT)
        with Locations((409.503797, 542.78203)):
            Circle(F0_R, mode=Mode.SUBTRACT)
    extrude(amount=F1_DEPTH)


solid = f1.part
